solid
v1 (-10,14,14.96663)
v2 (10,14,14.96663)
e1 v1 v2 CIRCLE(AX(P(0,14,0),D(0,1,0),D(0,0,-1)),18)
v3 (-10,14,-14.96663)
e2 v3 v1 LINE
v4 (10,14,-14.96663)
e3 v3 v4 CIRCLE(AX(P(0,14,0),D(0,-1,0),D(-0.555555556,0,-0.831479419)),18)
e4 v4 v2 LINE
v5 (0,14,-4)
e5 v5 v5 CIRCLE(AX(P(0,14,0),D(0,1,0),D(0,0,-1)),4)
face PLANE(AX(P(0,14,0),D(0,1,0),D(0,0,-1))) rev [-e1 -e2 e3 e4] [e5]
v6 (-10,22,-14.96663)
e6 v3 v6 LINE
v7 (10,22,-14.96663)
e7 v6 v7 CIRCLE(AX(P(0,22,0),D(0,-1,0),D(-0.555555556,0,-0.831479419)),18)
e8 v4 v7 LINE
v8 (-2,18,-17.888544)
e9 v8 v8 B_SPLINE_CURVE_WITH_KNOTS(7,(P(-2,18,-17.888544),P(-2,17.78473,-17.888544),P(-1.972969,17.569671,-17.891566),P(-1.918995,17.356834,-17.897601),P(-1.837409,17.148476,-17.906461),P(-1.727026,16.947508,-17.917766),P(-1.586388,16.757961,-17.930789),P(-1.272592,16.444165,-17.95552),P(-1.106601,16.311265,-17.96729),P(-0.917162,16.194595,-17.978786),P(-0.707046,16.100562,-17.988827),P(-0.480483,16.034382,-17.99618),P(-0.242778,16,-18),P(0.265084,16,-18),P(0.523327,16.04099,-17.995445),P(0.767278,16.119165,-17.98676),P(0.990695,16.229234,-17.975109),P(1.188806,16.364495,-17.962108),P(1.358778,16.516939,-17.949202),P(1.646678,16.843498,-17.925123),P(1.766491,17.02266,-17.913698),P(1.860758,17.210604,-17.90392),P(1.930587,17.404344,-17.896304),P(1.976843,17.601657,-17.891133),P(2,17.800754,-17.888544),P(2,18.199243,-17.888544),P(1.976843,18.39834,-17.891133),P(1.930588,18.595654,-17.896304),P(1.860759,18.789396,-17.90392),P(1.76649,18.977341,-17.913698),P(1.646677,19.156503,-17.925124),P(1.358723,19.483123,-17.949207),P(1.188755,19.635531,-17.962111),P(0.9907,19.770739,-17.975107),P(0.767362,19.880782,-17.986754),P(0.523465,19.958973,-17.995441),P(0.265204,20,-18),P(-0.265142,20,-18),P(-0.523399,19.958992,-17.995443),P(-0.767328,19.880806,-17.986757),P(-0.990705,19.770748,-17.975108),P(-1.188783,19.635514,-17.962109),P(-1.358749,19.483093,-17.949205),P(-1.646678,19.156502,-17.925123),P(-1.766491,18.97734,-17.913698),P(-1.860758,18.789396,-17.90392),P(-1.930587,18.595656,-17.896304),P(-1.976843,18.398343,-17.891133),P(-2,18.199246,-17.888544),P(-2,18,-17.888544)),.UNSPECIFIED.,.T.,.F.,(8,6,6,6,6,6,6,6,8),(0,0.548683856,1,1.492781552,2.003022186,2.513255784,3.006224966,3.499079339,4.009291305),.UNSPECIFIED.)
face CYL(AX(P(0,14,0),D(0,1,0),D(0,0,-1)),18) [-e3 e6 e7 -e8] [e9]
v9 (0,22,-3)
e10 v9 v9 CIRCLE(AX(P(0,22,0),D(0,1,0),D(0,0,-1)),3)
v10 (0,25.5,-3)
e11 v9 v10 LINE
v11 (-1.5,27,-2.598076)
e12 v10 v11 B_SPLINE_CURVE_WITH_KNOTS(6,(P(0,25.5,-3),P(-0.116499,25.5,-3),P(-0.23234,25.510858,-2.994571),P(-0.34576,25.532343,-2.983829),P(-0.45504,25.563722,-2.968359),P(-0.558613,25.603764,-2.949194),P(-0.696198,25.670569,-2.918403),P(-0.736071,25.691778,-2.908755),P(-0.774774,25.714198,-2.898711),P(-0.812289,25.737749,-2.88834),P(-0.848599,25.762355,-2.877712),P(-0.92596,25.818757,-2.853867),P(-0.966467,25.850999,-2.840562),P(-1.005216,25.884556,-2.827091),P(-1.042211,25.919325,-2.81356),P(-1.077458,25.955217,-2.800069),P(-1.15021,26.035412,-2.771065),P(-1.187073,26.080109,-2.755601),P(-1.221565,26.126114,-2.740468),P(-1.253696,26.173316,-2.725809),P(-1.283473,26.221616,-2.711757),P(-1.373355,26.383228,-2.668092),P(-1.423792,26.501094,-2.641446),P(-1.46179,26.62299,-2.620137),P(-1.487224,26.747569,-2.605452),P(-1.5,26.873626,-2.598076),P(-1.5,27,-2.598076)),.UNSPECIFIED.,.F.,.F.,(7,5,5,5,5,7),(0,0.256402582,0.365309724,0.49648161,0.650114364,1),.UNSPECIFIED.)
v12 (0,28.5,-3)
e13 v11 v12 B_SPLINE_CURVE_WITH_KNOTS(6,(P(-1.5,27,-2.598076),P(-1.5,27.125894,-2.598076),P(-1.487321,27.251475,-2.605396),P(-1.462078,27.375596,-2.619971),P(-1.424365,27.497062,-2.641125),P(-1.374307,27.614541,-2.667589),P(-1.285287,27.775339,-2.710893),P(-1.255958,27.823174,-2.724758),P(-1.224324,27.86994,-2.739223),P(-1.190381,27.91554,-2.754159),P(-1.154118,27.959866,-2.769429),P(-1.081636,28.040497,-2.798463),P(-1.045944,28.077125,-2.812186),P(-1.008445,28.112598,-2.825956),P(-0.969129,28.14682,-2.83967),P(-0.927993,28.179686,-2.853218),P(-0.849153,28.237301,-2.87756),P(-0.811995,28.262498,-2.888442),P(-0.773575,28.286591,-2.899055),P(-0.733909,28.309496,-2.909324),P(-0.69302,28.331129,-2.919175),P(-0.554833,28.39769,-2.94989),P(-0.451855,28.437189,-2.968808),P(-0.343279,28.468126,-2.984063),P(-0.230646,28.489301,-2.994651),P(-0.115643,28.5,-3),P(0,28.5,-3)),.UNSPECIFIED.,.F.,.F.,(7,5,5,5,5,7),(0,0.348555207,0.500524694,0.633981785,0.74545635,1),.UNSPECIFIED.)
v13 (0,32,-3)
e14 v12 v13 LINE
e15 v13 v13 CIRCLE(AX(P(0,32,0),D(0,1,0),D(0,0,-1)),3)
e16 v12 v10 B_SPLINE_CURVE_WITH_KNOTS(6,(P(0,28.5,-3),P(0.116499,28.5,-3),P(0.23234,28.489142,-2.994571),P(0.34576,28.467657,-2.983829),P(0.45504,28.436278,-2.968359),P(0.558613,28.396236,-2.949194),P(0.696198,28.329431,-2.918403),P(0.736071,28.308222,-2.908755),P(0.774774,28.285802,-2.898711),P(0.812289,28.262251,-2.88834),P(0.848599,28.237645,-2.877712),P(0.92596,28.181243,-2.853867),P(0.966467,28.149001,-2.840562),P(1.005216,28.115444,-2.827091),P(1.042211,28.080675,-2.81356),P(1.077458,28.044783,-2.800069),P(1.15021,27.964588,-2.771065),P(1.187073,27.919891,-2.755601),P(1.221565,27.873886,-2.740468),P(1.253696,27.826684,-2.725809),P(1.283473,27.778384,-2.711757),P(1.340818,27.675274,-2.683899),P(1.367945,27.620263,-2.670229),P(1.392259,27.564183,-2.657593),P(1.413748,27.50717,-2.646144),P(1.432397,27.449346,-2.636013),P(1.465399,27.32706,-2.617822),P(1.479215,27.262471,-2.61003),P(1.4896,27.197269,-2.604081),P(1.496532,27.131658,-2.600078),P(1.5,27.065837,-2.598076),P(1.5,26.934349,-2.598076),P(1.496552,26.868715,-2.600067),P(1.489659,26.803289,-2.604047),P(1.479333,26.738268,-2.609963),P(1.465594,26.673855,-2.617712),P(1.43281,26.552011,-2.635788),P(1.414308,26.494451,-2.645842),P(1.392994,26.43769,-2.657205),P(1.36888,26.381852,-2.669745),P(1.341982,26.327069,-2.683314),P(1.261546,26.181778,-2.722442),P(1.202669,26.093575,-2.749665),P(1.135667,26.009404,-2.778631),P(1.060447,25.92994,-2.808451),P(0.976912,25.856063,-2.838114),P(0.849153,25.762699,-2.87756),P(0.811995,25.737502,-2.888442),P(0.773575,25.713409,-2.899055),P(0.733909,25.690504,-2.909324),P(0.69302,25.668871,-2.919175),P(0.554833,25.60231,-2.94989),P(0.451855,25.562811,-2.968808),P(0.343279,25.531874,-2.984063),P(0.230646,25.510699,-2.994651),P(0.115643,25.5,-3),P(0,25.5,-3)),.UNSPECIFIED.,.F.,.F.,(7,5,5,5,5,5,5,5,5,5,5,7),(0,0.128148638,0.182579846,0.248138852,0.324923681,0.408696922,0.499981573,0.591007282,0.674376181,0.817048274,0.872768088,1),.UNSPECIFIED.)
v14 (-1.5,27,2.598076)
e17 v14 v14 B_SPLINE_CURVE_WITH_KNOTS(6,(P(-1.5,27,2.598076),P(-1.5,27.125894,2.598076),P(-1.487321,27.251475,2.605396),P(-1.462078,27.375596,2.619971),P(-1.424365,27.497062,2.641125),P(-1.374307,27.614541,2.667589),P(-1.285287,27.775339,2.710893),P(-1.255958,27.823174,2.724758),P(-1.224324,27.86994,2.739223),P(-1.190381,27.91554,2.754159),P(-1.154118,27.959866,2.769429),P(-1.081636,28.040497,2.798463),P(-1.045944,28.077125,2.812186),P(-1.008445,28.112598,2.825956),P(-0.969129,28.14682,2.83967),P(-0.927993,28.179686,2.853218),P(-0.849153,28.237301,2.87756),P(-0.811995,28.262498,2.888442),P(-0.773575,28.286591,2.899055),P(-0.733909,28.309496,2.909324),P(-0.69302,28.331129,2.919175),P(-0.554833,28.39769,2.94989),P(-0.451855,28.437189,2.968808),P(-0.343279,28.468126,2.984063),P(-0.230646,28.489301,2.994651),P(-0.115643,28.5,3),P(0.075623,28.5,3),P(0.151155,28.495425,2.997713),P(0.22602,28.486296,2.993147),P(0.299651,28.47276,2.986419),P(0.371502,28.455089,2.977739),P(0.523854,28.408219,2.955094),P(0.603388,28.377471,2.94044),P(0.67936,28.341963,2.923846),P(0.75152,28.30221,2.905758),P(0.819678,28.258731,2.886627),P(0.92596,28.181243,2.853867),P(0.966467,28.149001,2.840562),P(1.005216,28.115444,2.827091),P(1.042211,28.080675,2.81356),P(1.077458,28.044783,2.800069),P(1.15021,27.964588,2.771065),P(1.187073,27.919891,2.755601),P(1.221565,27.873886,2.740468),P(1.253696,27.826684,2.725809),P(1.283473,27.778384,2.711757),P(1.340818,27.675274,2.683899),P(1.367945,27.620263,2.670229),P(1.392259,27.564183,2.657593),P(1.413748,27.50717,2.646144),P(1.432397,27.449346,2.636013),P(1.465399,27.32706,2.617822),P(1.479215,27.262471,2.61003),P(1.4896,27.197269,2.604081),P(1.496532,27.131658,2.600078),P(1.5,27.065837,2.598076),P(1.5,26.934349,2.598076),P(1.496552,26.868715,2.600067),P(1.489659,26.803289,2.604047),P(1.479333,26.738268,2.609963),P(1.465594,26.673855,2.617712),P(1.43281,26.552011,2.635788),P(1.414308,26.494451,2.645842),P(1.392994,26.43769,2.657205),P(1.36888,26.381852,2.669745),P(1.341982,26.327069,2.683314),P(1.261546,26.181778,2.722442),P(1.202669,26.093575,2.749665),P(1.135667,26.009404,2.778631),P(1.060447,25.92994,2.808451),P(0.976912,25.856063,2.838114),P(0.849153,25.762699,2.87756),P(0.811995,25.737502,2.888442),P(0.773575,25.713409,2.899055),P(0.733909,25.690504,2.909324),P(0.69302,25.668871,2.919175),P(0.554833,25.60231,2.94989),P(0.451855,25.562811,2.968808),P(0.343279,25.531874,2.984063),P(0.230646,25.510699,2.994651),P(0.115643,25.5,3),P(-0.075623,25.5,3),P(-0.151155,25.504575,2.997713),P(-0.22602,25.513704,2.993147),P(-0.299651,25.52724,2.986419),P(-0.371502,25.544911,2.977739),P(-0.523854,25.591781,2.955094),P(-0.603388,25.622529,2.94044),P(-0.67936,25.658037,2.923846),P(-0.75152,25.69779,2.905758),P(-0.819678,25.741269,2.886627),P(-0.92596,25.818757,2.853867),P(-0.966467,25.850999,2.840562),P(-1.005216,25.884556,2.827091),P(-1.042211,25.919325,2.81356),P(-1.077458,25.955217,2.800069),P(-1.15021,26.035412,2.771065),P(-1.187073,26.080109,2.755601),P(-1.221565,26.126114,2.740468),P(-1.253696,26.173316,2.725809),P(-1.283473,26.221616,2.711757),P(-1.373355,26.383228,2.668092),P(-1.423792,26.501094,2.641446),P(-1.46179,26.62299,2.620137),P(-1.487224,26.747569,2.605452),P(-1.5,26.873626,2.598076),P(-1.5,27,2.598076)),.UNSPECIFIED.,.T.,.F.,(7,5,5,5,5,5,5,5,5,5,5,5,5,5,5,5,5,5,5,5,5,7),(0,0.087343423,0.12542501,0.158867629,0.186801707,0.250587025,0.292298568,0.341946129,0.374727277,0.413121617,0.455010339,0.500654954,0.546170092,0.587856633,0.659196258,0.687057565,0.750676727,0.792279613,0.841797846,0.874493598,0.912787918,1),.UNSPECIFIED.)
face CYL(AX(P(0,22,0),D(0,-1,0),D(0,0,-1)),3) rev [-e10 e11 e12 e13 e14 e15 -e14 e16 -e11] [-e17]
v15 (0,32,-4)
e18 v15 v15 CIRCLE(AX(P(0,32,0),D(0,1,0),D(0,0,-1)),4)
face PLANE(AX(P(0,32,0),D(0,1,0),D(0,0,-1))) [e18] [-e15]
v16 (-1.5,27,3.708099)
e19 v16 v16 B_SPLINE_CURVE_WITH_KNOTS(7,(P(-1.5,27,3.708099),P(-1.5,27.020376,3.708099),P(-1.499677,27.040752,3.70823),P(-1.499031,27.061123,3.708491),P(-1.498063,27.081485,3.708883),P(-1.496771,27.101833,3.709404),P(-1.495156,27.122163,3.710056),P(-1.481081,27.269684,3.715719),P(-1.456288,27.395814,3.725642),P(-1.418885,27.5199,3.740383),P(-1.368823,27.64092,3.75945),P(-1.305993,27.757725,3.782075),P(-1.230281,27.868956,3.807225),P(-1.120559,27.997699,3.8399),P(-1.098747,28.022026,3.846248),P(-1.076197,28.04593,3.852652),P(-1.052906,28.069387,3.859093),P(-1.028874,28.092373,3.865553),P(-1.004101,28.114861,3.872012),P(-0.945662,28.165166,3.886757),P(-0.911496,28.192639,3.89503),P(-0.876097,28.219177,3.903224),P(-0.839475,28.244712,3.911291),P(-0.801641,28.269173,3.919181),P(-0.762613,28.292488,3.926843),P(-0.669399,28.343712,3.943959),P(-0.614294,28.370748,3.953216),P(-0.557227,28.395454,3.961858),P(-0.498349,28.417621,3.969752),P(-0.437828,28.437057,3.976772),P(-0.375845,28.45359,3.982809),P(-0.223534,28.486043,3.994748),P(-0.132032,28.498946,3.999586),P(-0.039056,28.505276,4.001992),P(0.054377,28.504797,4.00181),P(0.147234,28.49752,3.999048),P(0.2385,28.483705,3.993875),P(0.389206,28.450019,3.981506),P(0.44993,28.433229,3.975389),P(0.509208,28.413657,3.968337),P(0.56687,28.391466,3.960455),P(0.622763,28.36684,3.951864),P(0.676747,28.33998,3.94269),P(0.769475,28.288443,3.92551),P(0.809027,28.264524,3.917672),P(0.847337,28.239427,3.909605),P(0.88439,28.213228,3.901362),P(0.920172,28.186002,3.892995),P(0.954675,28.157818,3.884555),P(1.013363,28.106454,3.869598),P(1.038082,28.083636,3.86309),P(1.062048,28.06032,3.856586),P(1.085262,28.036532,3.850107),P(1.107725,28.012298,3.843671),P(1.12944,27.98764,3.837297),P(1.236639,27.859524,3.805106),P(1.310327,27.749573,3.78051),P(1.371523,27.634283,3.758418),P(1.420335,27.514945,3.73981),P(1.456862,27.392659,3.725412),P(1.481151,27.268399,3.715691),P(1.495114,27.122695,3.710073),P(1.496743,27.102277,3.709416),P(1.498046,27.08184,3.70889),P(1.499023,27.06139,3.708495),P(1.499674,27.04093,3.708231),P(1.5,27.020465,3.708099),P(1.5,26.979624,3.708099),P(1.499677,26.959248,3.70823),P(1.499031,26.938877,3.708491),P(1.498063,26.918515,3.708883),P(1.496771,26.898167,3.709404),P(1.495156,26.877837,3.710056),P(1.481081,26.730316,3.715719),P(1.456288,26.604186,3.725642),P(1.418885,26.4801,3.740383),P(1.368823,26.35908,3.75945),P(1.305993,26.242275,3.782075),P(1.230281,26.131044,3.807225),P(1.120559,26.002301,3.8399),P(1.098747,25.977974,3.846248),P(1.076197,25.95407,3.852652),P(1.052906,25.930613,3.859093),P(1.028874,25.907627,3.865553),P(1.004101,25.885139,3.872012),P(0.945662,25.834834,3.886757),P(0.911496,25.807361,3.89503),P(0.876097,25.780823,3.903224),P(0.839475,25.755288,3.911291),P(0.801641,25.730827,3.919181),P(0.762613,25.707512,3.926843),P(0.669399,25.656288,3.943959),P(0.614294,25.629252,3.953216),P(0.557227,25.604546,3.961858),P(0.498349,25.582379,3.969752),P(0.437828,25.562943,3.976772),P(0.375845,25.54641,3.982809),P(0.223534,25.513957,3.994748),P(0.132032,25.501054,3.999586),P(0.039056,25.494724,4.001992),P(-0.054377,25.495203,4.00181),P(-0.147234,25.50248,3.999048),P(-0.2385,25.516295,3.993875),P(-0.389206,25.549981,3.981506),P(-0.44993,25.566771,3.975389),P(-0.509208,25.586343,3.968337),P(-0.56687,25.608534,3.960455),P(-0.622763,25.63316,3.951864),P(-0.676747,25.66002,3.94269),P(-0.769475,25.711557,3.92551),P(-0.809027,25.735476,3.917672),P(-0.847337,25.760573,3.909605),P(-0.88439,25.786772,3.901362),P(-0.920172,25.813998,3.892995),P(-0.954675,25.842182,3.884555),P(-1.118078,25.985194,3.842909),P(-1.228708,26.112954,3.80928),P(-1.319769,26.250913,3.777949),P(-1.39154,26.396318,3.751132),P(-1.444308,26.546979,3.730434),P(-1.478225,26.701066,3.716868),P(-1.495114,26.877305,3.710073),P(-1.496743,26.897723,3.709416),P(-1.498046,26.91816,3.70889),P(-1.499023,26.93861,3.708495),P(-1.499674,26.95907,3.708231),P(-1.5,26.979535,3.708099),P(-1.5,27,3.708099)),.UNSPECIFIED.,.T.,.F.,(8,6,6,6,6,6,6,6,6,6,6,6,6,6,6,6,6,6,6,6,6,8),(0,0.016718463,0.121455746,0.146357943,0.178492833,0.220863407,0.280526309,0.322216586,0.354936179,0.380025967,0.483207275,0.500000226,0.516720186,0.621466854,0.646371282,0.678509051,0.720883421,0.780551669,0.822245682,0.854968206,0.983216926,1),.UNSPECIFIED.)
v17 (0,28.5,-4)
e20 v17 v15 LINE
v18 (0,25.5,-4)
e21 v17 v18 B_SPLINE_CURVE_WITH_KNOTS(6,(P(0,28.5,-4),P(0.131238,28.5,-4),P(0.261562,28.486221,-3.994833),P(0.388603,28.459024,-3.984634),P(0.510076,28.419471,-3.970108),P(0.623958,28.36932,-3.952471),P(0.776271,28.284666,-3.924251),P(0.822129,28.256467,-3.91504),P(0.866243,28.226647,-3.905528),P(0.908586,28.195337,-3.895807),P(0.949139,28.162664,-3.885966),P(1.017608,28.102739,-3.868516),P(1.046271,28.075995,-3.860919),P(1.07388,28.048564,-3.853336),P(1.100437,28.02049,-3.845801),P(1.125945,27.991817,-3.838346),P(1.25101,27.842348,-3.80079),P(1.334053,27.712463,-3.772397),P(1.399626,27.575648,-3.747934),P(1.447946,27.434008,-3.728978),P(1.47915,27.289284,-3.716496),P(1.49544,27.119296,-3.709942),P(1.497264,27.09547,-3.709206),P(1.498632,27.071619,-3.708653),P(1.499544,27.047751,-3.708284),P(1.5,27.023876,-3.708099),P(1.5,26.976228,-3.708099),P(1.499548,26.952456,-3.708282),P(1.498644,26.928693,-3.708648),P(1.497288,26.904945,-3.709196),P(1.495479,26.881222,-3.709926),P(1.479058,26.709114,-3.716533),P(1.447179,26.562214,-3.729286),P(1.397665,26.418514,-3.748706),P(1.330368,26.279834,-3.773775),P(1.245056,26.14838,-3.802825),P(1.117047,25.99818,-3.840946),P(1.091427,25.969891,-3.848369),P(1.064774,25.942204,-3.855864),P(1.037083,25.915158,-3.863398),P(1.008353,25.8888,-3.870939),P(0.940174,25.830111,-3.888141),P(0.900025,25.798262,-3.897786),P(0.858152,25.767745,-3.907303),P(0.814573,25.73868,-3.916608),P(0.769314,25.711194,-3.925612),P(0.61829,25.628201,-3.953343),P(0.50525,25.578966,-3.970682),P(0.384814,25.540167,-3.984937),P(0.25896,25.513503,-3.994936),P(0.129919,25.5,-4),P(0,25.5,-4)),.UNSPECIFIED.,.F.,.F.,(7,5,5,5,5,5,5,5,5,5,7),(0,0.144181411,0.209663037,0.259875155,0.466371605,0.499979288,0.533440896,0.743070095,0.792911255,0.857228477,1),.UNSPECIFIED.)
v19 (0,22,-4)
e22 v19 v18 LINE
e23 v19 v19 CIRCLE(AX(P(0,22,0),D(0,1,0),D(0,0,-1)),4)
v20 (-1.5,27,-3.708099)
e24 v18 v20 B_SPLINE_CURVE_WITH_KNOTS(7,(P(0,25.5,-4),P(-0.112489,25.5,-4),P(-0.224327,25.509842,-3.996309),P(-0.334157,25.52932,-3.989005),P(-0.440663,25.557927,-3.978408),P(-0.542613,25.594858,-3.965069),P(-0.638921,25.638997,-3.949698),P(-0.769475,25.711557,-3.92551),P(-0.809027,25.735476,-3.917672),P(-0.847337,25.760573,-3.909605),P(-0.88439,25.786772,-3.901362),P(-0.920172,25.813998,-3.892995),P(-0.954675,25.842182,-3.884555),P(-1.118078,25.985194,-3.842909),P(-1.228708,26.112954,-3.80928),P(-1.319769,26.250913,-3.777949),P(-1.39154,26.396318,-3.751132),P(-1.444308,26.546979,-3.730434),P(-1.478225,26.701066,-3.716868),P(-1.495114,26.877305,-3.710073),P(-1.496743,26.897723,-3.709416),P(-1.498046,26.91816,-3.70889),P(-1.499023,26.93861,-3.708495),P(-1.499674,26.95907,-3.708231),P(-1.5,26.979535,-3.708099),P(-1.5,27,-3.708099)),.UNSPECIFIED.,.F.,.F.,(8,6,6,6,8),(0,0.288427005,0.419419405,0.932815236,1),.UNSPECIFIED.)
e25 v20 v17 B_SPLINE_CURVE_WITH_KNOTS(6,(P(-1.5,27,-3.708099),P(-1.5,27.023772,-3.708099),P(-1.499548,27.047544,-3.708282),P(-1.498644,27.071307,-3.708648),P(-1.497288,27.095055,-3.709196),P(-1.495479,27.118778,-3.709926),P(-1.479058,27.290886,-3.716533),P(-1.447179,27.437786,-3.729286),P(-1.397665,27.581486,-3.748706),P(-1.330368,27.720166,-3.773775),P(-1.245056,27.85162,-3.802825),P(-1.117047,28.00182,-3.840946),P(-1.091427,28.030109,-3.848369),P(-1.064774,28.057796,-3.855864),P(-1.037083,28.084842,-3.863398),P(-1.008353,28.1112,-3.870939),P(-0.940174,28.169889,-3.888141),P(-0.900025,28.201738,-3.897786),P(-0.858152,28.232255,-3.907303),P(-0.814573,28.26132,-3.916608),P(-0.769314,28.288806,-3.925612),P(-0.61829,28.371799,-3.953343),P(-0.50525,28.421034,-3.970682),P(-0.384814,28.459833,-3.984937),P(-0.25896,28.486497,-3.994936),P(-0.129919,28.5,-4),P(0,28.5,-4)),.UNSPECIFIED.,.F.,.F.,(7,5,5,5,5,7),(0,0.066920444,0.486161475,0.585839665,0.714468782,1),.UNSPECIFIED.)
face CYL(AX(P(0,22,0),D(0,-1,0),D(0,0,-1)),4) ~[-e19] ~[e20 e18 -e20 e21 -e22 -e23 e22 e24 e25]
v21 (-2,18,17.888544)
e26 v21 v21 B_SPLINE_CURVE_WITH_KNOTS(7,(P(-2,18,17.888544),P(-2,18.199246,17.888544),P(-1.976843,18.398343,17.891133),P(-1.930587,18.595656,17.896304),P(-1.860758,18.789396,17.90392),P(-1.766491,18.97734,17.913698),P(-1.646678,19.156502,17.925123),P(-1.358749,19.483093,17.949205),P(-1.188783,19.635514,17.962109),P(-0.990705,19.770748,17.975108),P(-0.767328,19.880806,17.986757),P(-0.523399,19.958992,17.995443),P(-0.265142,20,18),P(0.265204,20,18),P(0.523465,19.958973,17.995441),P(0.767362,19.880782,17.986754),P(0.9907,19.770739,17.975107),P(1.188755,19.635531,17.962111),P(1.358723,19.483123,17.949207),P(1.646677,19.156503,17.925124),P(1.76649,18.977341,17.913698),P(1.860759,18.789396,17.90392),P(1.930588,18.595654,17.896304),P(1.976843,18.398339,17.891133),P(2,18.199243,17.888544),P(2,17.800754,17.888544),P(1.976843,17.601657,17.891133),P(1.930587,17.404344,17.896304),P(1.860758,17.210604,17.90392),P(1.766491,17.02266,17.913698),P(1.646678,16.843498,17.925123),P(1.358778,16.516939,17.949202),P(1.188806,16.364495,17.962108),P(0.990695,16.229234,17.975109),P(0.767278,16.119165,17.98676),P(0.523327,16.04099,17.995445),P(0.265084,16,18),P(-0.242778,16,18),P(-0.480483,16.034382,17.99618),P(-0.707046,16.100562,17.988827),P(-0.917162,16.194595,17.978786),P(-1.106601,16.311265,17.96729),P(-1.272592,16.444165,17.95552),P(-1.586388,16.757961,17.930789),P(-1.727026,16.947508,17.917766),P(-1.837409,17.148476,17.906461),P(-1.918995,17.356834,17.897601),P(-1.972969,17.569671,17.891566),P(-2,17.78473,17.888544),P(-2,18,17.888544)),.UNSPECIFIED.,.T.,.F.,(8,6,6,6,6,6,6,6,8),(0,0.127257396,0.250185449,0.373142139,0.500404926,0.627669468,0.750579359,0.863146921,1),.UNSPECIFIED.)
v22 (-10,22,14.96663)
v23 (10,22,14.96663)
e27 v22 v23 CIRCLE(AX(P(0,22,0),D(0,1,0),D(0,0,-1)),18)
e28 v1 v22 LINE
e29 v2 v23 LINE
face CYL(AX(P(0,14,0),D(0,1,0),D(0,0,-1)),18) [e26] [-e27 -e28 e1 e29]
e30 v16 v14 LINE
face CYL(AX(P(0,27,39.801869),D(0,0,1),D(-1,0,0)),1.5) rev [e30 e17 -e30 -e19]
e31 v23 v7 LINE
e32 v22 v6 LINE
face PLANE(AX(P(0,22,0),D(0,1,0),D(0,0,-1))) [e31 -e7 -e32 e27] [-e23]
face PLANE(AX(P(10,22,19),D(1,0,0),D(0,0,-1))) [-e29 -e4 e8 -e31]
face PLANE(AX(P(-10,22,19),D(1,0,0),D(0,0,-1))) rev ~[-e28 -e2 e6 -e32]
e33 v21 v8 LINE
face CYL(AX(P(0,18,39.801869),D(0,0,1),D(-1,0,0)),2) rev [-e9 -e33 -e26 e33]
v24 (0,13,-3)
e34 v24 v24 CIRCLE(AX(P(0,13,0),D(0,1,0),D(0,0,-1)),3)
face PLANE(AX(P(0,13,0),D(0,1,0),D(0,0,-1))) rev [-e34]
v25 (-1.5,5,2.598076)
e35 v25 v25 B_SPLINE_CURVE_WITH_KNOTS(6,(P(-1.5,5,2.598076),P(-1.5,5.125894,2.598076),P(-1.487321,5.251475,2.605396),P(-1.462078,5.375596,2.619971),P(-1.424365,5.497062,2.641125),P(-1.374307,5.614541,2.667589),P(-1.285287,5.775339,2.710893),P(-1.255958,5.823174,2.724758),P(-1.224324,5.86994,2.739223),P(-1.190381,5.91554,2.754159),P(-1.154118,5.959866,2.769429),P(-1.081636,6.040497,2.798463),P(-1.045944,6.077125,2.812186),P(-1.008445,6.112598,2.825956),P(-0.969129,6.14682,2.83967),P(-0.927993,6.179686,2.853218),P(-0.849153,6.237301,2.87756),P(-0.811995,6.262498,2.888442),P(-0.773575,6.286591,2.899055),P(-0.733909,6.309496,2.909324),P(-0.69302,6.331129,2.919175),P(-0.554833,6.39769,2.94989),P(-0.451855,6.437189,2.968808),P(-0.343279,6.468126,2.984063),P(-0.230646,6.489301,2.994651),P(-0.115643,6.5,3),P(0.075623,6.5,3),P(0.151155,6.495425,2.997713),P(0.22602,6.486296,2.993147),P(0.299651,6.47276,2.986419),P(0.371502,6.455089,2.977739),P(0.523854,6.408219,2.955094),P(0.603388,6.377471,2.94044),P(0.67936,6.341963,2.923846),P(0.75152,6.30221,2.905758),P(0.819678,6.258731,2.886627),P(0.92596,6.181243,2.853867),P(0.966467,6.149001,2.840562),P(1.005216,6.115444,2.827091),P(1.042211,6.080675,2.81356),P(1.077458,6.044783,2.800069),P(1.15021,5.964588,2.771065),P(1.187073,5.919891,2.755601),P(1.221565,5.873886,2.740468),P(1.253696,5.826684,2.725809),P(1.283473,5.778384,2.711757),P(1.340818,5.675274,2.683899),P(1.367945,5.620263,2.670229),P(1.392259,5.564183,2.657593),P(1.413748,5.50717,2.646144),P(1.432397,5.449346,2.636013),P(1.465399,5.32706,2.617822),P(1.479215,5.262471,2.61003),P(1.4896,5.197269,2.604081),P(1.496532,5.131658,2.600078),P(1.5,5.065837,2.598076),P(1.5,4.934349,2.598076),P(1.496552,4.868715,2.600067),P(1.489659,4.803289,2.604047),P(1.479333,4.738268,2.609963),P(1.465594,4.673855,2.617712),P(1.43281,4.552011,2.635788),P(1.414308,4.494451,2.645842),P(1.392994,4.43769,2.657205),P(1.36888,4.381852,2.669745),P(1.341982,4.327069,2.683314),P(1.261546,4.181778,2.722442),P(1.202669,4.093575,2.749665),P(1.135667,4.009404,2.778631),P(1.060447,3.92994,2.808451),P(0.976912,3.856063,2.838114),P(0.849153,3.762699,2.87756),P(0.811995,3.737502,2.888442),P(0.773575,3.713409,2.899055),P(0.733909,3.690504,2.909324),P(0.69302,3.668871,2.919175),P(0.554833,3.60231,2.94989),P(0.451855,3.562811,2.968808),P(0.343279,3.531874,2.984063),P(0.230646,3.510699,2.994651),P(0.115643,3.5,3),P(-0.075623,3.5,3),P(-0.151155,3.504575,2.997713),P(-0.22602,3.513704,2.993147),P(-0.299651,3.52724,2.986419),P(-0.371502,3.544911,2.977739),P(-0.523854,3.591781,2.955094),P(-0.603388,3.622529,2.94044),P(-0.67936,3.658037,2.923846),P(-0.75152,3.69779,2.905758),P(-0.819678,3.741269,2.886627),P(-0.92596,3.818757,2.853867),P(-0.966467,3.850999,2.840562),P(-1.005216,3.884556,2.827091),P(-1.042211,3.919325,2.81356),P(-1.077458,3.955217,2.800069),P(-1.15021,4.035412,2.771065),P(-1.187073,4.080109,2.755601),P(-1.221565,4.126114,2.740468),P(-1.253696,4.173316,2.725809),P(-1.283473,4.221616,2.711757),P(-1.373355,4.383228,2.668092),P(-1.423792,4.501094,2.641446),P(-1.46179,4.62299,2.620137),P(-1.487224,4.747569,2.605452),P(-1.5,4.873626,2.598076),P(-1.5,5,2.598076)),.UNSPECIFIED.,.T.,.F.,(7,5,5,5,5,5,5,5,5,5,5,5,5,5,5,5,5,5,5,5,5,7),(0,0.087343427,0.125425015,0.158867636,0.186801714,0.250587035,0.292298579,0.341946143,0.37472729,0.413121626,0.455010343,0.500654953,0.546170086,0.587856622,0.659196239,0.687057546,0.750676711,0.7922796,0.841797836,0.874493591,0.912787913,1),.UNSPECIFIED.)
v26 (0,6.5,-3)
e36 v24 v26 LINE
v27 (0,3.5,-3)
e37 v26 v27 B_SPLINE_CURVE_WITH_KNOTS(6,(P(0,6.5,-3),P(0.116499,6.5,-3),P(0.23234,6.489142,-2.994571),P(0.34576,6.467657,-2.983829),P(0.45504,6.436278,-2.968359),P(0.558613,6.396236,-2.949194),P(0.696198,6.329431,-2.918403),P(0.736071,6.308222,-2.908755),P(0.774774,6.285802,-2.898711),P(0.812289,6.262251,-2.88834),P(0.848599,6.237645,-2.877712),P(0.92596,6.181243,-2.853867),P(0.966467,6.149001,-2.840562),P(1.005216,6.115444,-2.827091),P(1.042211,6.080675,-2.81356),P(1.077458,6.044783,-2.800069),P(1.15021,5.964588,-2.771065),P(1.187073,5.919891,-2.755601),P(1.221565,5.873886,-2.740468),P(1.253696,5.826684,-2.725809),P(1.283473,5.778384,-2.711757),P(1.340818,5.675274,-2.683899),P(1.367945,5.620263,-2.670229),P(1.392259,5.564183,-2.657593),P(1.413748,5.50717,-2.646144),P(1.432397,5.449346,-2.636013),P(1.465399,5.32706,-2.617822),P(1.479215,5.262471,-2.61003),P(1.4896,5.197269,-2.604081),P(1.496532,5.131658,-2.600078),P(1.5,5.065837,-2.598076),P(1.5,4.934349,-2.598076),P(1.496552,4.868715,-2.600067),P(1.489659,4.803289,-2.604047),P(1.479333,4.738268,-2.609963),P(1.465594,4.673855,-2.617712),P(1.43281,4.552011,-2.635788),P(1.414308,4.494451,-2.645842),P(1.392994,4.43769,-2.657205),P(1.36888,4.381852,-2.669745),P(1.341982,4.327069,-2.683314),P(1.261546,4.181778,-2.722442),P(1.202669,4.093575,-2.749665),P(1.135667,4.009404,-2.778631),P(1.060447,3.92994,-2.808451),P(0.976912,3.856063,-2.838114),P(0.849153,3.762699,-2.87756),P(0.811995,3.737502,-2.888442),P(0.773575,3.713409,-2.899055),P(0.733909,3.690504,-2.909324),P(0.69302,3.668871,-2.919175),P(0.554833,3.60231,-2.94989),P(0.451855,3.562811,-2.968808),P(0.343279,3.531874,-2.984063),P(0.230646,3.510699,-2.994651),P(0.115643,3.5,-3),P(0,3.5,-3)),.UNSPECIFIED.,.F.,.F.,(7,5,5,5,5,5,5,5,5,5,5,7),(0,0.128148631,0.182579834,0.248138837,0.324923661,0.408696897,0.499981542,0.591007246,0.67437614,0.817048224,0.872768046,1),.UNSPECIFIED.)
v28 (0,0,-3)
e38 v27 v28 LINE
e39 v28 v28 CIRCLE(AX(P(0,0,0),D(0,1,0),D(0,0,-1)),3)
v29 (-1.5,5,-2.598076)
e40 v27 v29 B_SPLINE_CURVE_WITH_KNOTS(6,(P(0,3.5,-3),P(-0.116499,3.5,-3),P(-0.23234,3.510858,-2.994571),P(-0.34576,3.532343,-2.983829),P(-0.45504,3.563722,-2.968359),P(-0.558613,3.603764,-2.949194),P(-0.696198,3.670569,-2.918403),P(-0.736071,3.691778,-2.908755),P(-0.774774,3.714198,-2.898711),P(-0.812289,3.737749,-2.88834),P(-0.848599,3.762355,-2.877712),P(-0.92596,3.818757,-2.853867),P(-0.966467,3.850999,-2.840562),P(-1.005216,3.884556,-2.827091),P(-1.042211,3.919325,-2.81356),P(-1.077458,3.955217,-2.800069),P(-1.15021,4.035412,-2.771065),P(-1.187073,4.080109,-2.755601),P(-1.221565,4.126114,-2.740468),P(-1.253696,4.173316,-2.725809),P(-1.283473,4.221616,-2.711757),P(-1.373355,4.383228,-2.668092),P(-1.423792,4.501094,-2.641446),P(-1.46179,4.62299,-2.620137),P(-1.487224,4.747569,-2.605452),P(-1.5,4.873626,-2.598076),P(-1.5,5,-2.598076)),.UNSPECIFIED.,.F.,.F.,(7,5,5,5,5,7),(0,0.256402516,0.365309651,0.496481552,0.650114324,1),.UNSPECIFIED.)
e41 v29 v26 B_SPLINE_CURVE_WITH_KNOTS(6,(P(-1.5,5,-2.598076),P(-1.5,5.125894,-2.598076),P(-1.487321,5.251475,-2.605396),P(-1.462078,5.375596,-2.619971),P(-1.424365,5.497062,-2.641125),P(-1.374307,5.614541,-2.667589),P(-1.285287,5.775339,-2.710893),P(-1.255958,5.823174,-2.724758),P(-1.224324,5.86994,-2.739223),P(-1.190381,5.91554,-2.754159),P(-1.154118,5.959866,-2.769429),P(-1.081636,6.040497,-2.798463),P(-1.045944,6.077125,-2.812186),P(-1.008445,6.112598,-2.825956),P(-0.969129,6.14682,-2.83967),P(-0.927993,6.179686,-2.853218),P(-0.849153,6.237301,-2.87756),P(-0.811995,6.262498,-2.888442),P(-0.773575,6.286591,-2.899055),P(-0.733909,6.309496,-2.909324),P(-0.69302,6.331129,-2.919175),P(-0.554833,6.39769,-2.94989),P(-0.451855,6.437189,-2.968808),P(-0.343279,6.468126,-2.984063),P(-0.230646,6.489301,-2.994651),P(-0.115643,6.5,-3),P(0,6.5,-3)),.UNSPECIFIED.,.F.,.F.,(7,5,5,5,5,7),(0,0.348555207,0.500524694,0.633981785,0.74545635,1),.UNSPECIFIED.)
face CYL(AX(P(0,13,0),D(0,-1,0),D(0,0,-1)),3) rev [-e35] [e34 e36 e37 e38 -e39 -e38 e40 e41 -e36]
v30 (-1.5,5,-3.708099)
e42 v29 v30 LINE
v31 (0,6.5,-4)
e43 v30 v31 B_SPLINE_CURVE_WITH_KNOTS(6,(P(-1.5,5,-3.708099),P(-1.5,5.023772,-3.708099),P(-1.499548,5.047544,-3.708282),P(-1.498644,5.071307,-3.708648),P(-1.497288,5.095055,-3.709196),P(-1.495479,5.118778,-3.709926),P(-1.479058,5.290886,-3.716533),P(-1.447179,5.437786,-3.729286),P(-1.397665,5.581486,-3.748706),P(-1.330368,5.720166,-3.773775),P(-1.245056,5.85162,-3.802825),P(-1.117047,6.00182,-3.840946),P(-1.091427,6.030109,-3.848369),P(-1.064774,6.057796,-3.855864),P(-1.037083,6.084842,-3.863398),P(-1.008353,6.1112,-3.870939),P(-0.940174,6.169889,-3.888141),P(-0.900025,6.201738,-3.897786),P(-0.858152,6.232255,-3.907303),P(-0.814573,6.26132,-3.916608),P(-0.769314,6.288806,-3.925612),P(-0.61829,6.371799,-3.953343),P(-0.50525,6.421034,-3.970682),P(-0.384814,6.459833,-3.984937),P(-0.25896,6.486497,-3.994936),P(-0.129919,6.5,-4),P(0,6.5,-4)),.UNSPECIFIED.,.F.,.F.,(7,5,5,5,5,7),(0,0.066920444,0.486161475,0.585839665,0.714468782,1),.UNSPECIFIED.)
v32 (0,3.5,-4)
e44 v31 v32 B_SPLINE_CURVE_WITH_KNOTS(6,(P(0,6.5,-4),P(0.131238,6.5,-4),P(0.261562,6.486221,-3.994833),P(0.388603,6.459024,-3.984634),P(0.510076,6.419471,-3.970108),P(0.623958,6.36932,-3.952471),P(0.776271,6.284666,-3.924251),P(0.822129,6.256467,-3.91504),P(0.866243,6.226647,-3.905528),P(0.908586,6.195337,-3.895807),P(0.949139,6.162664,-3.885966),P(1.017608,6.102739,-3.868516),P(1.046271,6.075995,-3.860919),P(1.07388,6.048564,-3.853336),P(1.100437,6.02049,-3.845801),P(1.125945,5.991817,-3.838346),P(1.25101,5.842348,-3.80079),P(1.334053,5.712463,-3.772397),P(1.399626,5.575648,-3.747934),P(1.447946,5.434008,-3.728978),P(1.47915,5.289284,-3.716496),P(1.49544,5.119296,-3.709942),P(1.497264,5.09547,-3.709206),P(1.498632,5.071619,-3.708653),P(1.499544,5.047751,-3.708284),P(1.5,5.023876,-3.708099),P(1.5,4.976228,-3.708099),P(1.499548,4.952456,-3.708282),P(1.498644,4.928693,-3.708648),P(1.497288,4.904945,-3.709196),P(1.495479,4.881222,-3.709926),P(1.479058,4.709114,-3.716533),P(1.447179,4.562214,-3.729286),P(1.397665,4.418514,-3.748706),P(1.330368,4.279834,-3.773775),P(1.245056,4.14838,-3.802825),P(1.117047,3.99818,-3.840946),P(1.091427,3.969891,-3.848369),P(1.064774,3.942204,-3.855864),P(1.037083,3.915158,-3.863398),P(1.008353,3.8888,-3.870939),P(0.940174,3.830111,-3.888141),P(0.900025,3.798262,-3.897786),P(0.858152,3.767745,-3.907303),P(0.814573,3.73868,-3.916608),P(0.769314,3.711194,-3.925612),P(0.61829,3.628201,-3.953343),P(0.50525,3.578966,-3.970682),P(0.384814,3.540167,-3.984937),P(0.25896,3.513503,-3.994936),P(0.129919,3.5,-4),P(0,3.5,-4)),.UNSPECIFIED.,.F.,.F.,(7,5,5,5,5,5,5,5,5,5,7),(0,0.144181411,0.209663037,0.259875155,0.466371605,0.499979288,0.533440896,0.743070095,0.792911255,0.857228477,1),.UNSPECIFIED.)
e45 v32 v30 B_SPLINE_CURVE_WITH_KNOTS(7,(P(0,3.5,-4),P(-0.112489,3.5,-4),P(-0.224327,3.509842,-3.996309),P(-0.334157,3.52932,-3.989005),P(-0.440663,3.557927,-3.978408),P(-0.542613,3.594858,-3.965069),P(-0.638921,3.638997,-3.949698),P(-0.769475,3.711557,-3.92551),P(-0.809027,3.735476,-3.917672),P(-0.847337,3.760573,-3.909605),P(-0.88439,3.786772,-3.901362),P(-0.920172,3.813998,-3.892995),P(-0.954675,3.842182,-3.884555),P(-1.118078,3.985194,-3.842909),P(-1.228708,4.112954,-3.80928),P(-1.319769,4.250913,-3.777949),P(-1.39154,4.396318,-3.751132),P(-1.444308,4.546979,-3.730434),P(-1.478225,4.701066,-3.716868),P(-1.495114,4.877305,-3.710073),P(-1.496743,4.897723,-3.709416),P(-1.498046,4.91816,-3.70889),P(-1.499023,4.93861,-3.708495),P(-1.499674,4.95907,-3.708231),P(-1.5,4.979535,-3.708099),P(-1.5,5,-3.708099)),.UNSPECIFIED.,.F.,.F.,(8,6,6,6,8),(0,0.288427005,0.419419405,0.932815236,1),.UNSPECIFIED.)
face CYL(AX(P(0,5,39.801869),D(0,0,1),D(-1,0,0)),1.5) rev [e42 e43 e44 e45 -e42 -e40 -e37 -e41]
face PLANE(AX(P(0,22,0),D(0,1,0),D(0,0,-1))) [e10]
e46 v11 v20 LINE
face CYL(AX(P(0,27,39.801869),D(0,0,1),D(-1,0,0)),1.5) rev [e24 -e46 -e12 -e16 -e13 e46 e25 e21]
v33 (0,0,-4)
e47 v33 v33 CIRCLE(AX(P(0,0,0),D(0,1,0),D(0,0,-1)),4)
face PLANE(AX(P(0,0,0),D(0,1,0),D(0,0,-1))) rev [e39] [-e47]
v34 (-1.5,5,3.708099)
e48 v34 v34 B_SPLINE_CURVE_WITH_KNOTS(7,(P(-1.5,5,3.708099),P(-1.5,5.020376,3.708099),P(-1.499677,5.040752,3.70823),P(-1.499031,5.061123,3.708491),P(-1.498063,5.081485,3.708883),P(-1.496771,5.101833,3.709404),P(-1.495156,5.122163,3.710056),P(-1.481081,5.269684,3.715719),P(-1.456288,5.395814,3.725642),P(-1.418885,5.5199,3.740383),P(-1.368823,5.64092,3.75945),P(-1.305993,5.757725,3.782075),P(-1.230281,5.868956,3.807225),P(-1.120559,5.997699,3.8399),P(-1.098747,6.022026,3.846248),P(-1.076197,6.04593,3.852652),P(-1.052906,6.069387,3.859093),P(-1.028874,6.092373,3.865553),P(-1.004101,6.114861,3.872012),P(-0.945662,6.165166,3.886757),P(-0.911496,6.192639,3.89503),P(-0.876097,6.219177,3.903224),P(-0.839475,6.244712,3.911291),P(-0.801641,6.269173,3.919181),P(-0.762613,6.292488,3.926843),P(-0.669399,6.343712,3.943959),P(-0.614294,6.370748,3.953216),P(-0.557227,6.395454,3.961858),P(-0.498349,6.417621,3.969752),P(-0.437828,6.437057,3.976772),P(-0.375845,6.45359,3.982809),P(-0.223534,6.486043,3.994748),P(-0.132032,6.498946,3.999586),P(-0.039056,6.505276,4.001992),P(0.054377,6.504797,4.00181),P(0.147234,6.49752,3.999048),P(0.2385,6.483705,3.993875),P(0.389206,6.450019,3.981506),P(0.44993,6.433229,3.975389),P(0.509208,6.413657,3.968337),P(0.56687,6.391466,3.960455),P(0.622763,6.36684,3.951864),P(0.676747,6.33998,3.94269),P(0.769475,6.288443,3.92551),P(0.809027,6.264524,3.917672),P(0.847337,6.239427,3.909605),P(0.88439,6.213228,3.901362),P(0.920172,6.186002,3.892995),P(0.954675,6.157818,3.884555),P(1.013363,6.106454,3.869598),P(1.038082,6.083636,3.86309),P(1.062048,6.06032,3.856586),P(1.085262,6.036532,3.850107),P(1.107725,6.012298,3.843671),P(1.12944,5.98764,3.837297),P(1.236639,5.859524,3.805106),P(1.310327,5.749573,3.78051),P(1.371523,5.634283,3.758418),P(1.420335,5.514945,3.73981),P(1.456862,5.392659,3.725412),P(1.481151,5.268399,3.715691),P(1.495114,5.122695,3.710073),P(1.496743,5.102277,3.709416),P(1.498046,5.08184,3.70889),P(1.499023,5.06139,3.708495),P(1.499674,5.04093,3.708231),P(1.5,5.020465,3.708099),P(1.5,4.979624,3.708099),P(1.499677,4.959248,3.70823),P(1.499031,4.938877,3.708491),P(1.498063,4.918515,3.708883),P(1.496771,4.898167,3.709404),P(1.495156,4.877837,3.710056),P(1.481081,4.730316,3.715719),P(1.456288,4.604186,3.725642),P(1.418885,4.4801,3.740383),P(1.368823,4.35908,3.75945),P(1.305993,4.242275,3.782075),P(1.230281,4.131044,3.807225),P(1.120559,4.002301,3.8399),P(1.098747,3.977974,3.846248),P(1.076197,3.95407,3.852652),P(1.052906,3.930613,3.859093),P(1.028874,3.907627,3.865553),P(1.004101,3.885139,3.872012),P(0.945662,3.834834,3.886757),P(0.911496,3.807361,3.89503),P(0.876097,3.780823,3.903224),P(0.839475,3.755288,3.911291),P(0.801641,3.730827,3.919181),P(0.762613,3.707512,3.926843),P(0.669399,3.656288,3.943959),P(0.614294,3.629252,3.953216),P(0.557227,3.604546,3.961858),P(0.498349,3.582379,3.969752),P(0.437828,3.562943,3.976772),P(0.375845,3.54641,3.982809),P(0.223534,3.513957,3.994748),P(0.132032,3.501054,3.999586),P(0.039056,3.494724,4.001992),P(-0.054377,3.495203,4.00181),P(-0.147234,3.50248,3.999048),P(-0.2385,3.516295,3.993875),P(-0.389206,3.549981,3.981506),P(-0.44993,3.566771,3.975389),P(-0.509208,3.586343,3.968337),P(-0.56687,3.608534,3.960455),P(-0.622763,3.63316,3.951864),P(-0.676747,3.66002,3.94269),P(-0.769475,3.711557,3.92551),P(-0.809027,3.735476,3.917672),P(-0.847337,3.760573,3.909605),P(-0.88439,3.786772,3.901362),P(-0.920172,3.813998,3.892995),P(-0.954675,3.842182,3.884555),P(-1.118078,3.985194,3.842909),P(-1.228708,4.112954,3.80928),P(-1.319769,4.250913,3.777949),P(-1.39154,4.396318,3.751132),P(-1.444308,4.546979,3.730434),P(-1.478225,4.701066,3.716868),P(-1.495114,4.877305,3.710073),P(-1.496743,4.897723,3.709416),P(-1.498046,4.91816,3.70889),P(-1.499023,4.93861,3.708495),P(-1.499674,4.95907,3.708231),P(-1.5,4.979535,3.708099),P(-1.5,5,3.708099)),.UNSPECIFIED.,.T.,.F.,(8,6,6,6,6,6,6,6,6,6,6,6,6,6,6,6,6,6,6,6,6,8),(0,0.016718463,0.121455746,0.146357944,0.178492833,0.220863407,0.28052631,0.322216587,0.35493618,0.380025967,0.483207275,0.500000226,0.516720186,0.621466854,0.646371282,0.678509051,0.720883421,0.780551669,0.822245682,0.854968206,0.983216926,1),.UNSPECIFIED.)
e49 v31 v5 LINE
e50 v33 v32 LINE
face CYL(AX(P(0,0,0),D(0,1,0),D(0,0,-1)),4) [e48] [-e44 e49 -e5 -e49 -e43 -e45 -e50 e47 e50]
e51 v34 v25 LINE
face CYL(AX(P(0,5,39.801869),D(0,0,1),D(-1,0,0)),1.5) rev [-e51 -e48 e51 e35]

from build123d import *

# Parameters (mm, degrees)
SKETCH2_R               = 4
SKETCH2_R_2             = 3
BOSS_EXTRUDE1_DEPTH     = 10
CUT_EXTRUDE1_DEPTH      = 43.801869118
CUT_EXTRUDE1_DEPTH_BACK = 43.801869118
SKETCH3_R               = 1.5
SKETCH3_R_2             = 2
SKETCH4_W               = 13
SKETCH4_H               = 38
CUT_EXTRUDE2_DEPTH      = 10


with BuildPart() as part:
    # Sketch1 → Revolve1 (revolve)
    with BuildSketch(Plane.XY, mode=Mode.PRIVATE) as revolve1_sk:
        Polygon((3, 0), (4, 0), (4, 14), (18, 14), (18, 22), (0, 22), (0, 13), (3, 13), align=None)
    revolve(revolve1_sk.sketch.rotate(Axis((0, 0, 0), (0, 1, 0)), 90), axis=Axis((0, 0, 0), (0, 1, 0)))

    # Sketch2 → Boss-Extrude1 (add)
    with BuildSketch(Plane(origin=(0, 22, 0), x_dir=(1, 0, 0), z_dir=(0, 1, 0))):
        with Locations(Location((0, 0, 0), (0, 0, 90))):
            Circle(SKETCH2_R)
        with Locations(Location((0, 0, 0), (0, 0, 90))):
            Circle(SKETCH2_R_2, mode=Mode.SUBTRACT)
    extrude(amount=BOSS_EXTRUDE1_DEPTH)

    # Sketch3 → Cut-Extrude1 (cut, two sides: drawn at the far end of the back side and taken through both)
    with BuildSketch(Plane(origin=(0, 0, -4), x_dir=(-1, 0, 0), z_dir=(0, 0, -1)).offset(-CUT_EXTRUDE1_DEPTH_BACK)):
        with Locations((0, 5)):
            Circle(SKETCH3_R)
        with Locations((0, 27)):
            Circle(SKETCH3_R)
        with Locations((0, 18)):
            Circle(SKETCH3_R_2)
    extrude(amount=CUT_EXTRUDE1_DEPTH + CUT_EXTRUDE1_DEPTH_BACK, mode=Mode.SUBTRACT)

    # Sketch4 → Cut-Extrude2 (cut)
    with BuildSketch(Plane(origin=(0, 22, 0), x_dir=(1, 0, 0), z_dir=(0, 1, 0))):
        with Locations((-16.5, 0)):
            Rectangle(SKETCH4_W, SKETCH4_H)
        with Locations((16.5, 0)):
            Rectangle(SKETCH4_W, SKETCH4_H)
    extrude(amount=-CUT_EXTRUDE2_DEPTH, mode=Mode.SUBTRACT)


solid = part.part
